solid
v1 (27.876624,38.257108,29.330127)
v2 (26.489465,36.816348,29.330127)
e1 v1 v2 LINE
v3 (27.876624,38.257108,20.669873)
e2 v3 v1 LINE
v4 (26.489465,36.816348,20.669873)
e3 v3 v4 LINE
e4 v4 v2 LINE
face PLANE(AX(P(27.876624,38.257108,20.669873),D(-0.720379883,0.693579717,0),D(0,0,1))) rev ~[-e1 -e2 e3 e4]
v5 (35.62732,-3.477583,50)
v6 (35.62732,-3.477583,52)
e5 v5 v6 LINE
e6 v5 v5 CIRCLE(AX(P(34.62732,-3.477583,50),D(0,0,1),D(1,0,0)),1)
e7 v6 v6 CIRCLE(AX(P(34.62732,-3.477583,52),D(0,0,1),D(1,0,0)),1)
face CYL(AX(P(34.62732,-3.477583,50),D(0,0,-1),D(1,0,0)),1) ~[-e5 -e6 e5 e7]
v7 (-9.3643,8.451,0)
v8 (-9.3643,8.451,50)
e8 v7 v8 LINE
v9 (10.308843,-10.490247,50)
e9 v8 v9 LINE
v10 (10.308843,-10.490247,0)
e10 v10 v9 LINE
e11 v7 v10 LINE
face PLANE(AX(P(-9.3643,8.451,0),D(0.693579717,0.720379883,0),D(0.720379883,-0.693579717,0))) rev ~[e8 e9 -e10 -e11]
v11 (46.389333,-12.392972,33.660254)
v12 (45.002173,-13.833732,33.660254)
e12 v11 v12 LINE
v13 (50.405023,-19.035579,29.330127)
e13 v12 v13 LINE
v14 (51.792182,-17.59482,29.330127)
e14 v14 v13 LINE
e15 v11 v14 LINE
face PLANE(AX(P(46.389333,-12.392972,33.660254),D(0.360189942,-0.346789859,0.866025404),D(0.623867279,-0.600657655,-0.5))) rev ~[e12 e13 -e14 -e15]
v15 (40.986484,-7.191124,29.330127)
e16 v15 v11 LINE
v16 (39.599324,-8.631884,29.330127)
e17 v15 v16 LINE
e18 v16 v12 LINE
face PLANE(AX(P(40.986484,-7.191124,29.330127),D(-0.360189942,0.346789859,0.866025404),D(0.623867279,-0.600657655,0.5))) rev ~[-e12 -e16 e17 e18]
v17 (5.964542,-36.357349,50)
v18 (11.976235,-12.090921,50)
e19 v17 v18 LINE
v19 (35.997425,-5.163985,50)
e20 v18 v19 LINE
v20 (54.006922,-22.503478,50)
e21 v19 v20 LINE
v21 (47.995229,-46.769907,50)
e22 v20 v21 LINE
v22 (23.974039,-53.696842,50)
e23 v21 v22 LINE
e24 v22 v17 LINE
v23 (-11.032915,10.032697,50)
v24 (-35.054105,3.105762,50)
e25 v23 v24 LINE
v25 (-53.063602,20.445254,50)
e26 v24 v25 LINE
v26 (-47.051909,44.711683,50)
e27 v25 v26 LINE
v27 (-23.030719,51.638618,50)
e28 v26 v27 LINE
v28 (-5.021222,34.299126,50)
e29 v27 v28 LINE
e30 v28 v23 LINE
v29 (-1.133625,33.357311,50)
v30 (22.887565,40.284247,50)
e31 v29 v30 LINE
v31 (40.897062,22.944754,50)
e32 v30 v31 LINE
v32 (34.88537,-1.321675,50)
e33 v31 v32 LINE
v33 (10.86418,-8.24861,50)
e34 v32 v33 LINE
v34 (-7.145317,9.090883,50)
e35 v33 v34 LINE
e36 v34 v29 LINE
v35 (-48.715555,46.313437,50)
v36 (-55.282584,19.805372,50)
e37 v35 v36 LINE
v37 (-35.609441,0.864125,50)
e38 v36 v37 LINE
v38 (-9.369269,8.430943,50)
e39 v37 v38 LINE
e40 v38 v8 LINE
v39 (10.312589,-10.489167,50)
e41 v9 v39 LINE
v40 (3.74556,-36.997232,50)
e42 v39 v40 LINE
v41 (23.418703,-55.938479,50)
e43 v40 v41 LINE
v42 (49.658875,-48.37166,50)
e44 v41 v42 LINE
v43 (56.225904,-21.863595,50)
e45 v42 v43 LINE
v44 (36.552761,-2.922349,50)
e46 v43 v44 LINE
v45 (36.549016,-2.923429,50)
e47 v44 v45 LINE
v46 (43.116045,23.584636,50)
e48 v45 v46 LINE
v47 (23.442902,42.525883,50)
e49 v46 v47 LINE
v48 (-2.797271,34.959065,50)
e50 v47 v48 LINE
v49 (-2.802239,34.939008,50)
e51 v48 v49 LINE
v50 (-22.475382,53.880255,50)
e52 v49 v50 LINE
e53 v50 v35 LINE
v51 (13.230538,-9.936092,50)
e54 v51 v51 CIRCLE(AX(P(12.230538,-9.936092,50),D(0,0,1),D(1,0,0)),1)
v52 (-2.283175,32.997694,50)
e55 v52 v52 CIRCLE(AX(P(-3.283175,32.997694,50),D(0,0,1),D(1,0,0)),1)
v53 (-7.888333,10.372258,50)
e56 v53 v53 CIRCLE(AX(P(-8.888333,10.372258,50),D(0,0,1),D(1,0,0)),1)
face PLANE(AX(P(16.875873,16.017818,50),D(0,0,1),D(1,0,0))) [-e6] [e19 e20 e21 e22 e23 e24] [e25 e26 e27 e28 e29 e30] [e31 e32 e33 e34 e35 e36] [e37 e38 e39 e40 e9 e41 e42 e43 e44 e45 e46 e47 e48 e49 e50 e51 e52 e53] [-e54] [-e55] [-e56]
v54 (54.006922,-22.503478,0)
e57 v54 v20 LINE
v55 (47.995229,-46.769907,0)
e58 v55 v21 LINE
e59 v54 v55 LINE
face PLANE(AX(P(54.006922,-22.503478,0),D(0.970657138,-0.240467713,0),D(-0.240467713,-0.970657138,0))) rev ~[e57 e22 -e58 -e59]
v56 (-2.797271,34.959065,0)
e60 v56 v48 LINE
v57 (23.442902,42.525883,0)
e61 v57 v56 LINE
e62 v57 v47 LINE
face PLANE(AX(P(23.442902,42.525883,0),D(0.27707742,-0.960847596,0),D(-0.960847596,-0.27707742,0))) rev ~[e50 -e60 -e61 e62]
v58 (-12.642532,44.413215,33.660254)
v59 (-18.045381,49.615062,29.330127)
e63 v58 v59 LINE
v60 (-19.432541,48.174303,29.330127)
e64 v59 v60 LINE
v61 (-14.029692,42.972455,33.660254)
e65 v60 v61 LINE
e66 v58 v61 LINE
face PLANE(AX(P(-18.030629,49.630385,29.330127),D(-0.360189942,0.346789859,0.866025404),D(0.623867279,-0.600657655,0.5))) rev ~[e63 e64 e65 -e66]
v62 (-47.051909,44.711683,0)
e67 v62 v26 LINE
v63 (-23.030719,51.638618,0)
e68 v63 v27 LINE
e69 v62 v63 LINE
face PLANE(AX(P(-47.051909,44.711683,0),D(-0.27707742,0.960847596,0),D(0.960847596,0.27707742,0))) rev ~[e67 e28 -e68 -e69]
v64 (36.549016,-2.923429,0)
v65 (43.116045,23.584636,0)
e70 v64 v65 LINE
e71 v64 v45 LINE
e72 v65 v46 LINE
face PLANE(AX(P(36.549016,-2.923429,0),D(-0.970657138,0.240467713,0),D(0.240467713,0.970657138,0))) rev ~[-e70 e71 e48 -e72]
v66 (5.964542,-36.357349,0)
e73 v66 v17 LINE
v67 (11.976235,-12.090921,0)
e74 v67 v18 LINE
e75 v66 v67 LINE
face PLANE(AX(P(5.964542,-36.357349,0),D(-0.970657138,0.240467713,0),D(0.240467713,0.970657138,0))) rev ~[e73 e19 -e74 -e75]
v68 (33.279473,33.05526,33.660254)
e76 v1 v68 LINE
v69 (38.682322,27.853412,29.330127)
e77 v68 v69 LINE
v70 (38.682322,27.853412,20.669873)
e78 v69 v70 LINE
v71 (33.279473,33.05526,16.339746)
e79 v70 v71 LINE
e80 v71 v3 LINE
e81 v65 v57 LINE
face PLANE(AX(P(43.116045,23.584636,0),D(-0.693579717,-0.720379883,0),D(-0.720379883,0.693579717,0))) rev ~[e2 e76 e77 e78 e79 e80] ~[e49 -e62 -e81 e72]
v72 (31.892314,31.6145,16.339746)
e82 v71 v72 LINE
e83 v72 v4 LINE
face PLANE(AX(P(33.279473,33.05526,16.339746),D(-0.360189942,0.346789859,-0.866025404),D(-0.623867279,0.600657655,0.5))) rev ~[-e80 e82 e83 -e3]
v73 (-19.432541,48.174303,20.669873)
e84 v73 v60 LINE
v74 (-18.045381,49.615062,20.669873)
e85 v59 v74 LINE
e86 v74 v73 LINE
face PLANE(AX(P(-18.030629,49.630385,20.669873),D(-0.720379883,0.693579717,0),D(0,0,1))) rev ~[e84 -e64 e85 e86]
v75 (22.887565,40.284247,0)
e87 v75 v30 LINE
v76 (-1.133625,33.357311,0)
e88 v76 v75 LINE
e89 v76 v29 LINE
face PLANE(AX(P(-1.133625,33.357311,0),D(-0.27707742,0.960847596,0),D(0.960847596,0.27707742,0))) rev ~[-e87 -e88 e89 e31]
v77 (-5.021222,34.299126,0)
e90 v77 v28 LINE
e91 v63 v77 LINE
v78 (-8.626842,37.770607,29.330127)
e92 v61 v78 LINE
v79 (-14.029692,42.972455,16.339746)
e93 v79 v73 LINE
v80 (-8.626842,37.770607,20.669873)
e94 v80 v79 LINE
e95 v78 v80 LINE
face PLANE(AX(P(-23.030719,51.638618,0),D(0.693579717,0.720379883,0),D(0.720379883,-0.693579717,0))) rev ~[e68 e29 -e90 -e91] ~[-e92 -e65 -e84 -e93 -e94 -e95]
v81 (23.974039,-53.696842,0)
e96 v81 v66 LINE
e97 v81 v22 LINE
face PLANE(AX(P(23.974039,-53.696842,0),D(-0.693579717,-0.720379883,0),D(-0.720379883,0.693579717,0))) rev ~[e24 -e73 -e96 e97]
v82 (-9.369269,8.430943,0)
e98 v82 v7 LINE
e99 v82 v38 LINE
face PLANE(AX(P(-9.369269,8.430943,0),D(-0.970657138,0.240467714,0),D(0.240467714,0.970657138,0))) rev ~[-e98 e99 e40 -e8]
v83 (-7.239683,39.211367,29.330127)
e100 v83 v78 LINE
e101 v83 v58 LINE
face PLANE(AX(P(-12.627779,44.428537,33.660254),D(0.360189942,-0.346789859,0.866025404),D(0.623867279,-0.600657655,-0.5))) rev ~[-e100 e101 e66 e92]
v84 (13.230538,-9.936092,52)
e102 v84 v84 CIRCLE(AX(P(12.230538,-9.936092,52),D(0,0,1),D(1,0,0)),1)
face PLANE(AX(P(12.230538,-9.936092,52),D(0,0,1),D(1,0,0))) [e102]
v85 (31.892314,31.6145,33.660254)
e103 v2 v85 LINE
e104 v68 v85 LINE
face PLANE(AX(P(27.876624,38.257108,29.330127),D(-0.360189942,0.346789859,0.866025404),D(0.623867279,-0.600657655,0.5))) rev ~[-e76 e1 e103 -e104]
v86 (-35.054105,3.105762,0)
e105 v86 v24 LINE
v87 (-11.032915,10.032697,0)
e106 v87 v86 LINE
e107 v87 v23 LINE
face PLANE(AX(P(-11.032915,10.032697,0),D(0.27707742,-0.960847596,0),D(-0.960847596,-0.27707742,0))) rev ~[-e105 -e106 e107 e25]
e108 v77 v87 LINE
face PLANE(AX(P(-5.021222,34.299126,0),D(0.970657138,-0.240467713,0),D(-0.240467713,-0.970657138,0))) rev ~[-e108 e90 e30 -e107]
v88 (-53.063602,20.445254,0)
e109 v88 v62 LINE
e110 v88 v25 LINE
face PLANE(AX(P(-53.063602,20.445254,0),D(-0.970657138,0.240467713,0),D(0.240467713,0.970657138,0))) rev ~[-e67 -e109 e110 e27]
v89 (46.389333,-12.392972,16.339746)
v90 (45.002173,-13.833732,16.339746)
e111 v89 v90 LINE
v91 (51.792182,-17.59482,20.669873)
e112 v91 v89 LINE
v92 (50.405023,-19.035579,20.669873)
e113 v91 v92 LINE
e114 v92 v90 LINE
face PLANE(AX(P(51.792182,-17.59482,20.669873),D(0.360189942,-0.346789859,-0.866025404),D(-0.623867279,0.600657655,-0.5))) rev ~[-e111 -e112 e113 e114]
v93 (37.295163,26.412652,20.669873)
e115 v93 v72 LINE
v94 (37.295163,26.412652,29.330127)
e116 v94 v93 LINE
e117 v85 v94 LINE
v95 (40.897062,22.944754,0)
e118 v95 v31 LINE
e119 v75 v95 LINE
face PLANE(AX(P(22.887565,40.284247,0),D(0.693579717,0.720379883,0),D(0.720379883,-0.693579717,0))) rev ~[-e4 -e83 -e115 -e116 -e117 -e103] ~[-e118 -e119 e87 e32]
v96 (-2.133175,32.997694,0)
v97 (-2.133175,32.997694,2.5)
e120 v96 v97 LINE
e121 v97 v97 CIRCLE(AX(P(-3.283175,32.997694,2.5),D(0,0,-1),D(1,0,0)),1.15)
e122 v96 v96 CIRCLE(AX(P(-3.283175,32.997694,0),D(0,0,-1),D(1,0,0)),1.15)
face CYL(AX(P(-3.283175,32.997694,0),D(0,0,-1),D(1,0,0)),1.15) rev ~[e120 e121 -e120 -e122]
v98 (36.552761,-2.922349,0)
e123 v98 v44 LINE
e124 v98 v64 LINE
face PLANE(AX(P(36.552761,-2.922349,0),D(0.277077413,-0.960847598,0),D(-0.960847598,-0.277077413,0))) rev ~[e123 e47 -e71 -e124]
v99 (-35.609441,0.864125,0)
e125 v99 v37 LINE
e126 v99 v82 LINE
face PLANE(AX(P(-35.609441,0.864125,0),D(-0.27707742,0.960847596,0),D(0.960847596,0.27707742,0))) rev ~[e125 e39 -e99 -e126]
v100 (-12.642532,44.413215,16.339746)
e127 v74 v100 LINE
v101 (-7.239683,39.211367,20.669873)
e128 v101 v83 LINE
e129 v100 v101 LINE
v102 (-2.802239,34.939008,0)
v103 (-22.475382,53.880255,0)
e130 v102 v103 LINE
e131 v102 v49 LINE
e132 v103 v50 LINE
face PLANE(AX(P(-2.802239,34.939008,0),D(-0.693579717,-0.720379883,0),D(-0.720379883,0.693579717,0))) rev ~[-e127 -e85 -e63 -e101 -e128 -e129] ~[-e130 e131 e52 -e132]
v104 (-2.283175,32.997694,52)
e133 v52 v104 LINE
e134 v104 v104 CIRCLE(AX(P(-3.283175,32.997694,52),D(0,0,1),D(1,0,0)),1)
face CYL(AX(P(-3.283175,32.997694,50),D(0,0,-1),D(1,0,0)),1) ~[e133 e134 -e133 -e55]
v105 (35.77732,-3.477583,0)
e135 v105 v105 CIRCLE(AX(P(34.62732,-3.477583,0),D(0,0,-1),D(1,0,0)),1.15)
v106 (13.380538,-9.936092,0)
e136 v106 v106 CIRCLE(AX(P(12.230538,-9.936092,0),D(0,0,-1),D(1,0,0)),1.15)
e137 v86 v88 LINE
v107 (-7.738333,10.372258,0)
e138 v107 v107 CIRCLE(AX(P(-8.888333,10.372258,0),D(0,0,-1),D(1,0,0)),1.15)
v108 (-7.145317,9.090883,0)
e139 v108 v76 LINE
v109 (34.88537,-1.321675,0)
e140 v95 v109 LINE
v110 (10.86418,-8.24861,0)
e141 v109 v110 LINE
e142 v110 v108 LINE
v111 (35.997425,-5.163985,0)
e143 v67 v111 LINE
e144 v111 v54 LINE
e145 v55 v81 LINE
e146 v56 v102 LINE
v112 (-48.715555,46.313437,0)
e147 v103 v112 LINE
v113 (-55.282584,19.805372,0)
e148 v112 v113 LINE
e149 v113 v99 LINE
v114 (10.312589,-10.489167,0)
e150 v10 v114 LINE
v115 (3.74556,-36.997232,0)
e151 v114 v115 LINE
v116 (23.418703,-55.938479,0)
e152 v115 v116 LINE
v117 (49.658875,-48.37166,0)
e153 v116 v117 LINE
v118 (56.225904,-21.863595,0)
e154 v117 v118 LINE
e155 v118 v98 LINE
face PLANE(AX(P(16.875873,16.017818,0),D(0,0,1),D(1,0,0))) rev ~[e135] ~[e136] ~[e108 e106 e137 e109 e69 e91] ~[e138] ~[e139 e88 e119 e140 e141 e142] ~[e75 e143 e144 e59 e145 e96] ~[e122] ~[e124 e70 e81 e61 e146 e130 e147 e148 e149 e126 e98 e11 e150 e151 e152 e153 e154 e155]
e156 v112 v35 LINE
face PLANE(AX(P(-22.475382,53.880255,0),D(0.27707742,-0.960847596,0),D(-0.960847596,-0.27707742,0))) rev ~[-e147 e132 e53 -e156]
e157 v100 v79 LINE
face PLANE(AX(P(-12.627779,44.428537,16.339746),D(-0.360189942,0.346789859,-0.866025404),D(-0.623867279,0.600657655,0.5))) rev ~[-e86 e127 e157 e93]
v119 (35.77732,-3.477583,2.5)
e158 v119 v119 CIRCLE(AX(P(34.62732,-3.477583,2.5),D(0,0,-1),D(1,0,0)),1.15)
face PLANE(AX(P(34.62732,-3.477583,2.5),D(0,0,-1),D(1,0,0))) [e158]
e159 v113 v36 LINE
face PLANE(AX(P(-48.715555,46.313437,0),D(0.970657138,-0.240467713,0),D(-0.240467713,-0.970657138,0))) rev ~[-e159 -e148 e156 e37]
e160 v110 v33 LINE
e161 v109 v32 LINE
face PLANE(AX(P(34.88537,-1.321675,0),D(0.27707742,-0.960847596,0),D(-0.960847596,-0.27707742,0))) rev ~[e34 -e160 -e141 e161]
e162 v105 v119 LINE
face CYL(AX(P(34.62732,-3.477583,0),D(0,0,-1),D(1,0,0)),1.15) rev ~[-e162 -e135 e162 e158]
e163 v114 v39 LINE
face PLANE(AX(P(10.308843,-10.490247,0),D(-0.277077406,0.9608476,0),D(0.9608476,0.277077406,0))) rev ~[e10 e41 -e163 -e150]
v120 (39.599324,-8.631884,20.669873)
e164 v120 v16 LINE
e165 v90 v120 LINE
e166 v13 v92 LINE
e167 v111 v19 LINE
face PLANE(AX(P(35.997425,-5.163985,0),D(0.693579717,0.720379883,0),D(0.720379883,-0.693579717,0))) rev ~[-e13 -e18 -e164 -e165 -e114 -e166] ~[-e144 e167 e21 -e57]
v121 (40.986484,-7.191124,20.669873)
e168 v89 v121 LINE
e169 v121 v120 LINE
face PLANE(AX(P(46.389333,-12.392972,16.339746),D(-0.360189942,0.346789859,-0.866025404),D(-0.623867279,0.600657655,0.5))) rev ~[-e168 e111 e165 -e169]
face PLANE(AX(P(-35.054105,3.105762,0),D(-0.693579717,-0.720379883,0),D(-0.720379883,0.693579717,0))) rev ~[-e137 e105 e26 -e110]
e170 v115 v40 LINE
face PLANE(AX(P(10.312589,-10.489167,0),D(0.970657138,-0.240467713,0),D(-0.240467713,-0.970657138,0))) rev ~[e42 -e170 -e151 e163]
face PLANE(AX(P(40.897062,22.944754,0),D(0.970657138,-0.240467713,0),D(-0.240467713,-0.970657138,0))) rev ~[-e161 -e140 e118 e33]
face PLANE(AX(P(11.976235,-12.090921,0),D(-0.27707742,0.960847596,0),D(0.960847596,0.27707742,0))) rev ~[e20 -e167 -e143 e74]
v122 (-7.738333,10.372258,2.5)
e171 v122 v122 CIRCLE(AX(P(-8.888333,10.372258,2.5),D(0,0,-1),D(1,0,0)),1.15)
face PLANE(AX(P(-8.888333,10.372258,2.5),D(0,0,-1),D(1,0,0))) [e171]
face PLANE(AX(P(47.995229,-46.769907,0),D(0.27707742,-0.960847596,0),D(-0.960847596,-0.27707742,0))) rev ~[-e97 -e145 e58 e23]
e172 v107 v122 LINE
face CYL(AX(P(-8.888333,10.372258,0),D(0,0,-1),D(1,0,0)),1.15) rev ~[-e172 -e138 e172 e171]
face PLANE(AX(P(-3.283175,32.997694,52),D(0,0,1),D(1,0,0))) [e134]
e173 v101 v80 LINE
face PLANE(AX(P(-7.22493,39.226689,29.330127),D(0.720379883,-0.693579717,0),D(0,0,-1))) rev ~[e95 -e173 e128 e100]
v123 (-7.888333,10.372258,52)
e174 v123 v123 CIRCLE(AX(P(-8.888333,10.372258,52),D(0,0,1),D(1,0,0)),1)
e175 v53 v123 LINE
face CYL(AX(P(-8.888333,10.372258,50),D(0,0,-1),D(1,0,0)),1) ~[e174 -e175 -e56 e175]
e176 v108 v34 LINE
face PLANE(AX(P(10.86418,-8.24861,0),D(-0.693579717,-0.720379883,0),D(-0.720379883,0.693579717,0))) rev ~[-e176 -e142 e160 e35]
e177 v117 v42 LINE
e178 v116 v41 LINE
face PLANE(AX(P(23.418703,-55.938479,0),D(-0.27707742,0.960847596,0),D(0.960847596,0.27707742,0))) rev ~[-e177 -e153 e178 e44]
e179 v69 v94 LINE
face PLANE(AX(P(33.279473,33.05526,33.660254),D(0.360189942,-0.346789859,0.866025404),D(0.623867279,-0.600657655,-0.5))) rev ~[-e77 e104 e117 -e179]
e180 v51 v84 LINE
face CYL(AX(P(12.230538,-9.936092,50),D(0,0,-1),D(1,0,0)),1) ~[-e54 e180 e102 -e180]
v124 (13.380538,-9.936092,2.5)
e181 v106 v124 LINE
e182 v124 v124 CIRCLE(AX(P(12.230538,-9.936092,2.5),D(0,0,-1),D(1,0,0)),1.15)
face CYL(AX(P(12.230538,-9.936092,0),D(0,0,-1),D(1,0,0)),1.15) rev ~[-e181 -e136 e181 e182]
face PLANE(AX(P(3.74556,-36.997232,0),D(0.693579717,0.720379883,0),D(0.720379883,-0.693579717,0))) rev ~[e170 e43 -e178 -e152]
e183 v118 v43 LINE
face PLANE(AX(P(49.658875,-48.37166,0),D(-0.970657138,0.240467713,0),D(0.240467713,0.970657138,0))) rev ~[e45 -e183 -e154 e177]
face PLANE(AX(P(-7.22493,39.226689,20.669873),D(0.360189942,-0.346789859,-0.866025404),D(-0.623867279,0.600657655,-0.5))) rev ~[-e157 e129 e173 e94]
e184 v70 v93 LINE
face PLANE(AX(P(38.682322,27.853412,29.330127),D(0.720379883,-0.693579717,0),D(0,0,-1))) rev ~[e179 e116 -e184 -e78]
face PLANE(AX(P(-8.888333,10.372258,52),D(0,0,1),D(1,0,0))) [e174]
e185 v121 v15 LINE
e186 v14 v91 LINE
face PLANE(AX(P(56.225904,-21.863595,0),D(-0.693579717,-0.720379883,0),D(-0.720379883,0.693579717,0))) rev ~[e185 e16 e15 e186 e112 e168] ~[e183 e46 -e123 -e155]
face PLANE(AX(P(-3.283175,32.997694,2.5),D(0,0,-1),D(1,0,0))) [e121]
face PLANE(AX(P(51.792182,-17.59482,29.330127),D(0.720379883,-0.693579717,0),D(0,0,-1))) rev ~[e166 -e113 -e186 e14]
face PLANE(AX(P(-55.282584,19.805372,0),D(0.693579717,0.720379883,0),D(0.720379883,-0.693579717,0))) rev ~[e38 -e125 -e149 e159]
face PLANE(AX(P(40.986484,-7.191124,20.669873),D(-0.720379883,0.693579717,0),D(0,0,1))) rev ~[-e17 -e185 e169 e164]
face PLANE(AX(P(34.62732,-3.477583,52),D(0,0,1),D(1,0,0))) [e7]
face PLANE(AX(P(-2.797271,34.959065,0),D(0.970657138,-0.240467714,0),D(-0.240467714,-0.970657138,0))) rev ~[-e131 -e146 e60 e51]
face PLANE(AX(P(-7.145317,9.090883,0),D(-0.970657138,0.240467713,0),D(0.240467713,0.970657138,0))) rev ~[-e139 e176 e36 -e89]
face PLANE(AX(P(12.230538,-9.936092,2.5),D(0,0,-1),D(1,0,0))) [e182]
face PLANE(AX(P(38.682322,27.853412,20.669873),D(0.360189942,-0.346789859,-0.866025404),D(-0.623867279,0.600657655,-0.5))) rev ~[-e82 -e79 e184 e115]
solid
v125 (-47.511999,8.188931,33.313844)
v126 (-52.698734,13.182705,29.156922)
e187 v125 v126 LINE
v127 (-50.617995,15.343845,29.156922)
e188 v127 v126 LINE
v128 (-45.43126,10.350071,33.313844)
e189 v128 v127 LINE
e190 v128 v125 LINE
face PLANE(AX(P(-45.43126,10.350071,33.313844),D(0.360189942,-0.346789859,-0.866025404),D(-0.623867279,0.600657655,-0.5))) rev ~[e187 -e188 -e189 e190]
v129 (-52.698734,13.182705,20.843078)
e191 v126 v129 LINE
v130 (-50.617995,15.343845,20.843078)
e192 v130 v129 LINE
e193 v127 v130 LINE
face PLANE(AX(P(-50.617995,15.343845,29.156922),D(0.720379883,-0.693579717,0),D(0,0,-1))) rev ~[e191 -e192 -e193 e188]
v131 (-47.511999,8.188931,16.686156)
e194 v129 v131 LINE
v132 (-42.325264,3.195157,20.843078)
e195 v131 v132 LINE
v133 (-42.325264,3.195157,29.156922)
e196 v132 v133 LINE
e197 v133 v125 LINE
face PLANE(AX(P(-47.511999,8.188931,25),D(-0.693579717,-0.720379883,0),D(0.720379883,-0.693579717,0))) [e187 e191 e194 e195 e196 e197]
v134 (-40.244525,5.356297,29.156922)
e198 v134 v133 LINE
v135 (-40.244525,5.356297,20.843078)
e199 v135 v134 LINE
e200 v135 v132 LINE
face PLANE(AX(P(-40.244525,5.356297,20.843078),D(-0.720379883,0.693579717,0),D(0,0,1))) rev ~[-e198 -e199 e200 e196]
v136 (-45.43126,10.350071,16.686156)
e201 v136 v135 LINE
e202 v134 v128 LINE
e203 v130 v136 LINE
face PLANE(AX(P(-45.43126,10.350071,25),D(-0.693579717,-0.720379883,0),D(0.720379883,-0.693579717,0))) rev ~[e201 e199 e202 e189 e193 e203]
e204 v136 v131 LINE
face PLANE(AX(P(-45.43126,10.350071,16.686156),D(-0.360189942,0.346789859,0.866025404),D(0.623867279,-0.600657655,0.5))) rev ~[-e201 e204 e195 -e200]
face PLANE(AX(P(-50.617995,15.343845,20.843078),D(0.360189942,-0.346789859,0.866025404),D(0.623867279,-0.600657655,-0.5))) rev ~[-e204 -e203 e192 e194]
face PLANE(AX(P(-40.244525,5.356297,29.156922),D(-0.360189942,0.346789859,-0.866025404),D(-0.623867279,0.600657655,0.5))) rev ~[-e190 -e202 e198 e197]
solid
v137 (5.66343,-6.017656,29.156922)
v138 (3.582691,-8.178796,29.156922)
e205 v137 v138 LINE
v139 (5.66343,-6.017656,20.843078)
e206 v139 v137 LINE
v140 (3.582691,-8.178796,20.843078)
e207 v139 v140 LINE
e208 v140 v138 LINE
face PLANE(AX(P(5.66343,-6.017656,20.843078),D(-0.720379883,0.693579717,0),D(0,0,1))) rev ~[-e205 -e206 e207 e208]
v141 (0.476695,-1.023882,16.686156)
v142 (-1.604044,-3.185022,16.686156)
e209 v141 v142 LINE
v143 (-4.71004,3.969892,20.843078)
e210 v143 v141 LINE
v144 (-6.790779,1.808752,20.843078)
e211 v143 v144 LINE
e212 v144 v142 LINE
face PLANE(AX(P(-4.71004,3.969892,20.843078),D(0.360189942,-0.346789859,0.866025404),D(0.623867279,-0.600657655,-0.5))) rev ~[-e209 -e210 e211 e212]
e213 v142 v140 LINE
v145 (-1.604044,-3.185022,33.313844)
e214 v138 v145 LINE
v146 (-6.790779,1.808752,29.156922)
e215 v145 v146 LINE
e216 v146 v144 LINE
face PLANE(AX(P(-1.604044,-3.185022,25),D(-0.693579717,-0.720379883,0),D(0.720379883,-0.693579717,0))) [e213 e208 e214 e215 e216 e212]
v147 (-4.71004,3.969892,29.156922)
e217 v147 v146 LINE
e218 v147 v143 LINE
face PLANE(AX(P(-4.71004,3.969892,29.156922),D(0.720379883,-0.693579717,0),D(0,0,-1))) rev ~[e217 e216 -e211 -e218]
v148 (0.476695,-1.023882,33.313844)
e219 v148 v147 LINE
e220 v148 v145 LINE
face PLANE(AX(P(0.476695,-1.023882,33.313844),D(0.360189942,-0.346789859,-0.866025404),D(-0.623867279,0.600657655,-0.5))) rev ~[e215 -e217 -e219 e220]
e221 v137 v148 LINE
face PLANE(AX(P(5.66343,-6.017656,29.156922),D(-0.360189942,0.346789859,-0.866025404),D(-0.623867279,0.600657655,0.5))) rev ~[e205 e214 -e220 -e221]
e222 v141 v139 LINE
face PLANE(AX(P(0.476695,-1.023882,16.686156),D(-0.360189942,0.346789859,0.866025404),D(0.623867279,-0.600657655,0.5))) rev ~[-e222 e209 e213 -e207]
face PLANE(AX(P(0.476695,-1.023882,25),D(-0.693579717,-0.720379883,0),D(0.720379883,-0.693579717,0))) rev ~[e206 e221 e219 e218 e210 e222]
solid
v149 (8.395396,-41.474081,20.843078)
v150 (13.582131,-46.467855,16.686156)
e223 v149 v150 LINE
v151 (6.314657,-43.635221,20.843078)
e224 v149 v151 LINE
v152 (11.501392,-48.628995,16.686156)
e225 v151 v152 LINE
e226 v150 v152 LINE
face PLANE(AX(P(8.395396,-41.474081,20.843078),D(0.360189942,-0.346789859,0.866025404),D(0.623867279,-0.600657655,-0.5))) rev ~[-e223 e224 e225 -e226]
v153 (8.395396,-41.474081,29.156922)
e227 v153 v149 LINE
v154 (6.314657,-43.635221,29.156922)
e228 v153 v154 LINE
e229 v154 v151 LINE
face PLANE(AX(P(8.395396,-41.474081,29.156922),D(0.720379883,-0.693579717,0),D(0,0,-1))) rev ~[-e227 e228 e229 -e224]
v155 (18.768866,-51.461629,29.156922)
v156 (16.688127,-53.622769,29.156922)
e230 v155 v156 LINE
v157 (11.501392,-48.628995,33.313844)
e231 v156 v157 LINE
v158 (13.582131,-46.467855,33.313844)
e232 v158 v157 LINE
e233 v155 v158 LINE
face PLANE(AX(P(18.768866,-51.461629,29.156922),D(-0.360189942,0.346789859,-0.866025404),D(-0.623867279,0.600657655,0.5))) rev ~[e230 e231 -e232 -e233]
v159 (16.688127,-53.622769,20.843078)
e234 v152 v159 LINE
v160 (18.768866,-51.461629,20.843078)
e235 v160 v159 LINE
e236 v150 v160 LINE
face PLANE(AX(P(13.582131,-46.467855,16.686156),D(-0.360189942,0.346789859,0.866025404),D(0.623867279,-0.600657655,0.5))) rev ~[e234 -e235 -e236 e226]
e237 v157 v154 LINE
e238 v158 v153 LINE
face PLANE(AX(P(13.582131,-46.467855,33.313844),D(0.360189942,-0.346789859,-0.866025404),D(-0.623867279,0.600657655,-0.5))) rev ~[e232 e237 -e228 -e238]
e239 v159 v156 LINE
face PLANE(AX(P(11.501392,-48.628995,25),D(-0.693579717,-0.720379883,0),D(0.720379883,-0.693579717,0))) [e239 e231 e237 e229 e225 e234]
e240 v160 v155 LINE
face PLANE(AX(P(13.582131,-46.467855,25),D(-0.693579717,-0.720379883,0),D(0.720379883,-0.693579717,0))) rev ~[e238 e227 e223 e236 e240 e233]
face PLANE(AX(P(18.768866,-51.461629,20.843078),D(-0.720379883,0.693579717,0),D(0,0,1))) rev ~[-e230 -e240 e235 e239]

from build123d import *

# Parameters (mm, degrees)
F1_DEPTH  = 50
F3_R      = 1.15
F4_DEPTH  = 2.5
F2_R      = 1
F5_DEPTH  = 2
F8_DEPTH  = 4
F11_DEPTH = 3


with BuildPart() as f1:
    # F0 (on Top) → F1 (new body)
    with BuildSketch(Plane.XY):
        Polygon((10.3125888618, -10.489166909), (36.5490156619, -2.9234286087), (43.1160448871, 23.584636472), (23.4429017347, 42.5258831489), (-2.7972706431, 34.959064745), (-2.8022393409, 34.939008406), (-9.3642998683, 8.4509996642), (10.3088432841, -10.4902470126), align=None)
        Polygon((40.8970624139, 22.944753579), (34.8853695844, -1.3216748629), (10.8641796799, -8.2486103737), (-7.1453173951, 9.0908825573), (-1.1336245656, 33.3573109992), (22.8875653389, 40.28424651), align=None, mode=Mode.SUBTRACT)
        Polygon((-9.3692685661, 8.4309433252), (-9.3642998683, 8.4509996642), (-2.8022393409, 34.939008406), (-22.4753824933, 53.8802550828), (-48.7155548711, 46.3134366789), (-55.2825840964, 19.8053715981), (-35.6094409439, 0.8641249213), align=None)
        Polygon((-5.0212218141, 34.2991255129), (-11.0329146436, 10.032697071), (-35.0541045481, 3.1057615602), (-53.0636016231, 20.4452544912), (-47.0519087936, 44.7116829331), (-23.0307188891, 51.6386184439), align=None, mode=Mode.SUBTRACT)
        Polygon((36.5527612395, -2.9223485051), (36.5490156619, -2.9234286087), (10.3125888618, -10.489166909), (3.7455596365, -36.9972319897), (23.418702789, -55.9384786666), (49.6588751668, -48.3716602627), (56.225904392, -21.8635951819), align=None)
        Polygon((54.0069219188, -22.503478075), (47.9952290893, -46.7699065169), (23.9740391848, -53.6968420277), (5.9645421098, -36.3573490966), (11.9762349393, -12.0909206548), (35.9974248438, -5.163985144), align=None, mode=Mode.SUBTRACT)
    extrude(amount=F1_DEPTH)

    # F3 (on face) → F4 (cut)
    with BuildSketch(Plane(origin=(0, 0, 0), x_dir=(1, 0, 0), z_dir=(0, 0, -1))):
        with Locations((-8.8883331398, -10.3722576005)):
            Circle(F3_R)
        with Locations((-3.2831747672, -32.9976941306)):
            Circle(F3_R)
        with Locations((12.2305384765, 9.9360921718)):
            Circle(F3_R)
        with Locations((34.6273204695, 3.4775834496)):
            Circle(F3_R)
    extrude(amount=-F4_DEPTH, mode=Mode.SUBTRACT)

    # F2 (on face) → F5 (join)
    with BuildSketch(Plane.XY.offset(50)):
        with Locations((-3.2831747672, 32.9976941306)):
            Circle(F2_R)
        with Locations((-8.8883331398, 10.3722576005)):
            Circle(F2_R)
        with Locations((12.2305384765, -9.9360921718)):
            Circle(F2_R)
        with Locations((34.6273204695, -3.4775834496)):
            Circle(F2_R)
    extrude(amount=F5_DEPTH)

    # F6 (on face) + F7 (on face) → F8 (cut)
    with BuildSketch(Plane(origin=(32.5249435766, 33.7817189082, 0), x_dir=(-0.720379883, 0.6935797172, 0), z_dir=(0.6935797172, 0.720379883, 0))):
        Polygon((-1.0474053373, 33.6602540378), (-8.5474053373, 29.3301270189), (-8.5474053373, 20.6698729811), (-1.0474053373, 16.3397459622), (6.4525946627, 20.6698729811), (6.4525946627, 29.3301270189), align=None)
    with BuildSketch(Plane(origin=(16.1236842597, 16.7467091263, 0), x_dir=(-0.720379883, 0.6935797172, 0), z_dir=(0.6935797172, 0.720379883, 0))):
        Polygon((32.4115306178, 29.3301270189), (32.4115306178, 20.6698729811), (39.9115306178, 16.3397459622), (47.4115306178, 20.6698729811), (47.4115306178, 29.3301270189), (39.9115306178, 33.6602540378), align=None)
        Polygon((-49.5134560533, 29.3301270189), (-49.5134560533, 20.6698729811), (-42.0134560533, 16.3397459622), (-34.5134560533, 20.6698729811), (-34.5134560533, 29.3301270189), (-42.0134560533, 33.6602540378), align=None)
    extrude(amount=-F8_DEPTH, mode=Mode.SUBTRACT)


with BuildPart() as f11:
    # F10 (on face) → F11 (new body)
    with BuildSketch(Plane(origin=(-0.2822580265, -0.2931645765, 0), x_dir=(0.720379883, -0.6935797172, 0), z_dir=(-0.6935797172, -0.720379883, 0))):
        Polygon((8.2535455477, 20.8430780618), (8.2535455477, 29.1569219382), (1.0535455477, 33.3138438763), (-6.1464544523, 29.1569219382), (-6.1464544523, 20.8430780618), (1.0535455477, 16.6861561237), align=None)
    extrude(amount=F11_DEPTH)


with BuildPart() as f11b:
    # F9 (on face) → F11, piece 2 (new body)
    with BuildSketch(Plane(origin=(-16.6835173433, -17.3281743584, 0), x_dir=(0.720379883, -0.6935797172, 0), z_dir=(-0.6935797172, -0.720379883, 0))):
        Polygon((49.2134560533, 20.8430780618), (49.2134560533, 29.1569219382), (42.0134560533, 33.3138438763), (34.8134560533, 29.1569219382), (34.8134560533, 20.8430780618), (42.0134560533, 16.6861561237), align=None)
    extrude(amount=F11_DEPTH)


with BuildPart() as f11c:
    # F9 (on face) → F11, piece 3 (new body)
    with BuildSketch(Plane(origin=(-16.6835173433, -17.3281743584, 0), x_dir=(0.720379883, -0.6935797172, 0), z_dir=(-0.6935797172, -0.720379883, 0))):
        Polygon((-32.7063649578, 20.8430780618), (-32.7063649578, 29.1569219382), (-39.9063649578, 33.3138438763), (-47.1063649578, 29.1569219382), (-47.1063649578, 20.8430780618), (-39.9063649578, 16.6861561237), align=None)
    extrude(amount=F11_DEPTH)


solid = Compound([f1.part, f11.part, f11b.part, f11c.part])
